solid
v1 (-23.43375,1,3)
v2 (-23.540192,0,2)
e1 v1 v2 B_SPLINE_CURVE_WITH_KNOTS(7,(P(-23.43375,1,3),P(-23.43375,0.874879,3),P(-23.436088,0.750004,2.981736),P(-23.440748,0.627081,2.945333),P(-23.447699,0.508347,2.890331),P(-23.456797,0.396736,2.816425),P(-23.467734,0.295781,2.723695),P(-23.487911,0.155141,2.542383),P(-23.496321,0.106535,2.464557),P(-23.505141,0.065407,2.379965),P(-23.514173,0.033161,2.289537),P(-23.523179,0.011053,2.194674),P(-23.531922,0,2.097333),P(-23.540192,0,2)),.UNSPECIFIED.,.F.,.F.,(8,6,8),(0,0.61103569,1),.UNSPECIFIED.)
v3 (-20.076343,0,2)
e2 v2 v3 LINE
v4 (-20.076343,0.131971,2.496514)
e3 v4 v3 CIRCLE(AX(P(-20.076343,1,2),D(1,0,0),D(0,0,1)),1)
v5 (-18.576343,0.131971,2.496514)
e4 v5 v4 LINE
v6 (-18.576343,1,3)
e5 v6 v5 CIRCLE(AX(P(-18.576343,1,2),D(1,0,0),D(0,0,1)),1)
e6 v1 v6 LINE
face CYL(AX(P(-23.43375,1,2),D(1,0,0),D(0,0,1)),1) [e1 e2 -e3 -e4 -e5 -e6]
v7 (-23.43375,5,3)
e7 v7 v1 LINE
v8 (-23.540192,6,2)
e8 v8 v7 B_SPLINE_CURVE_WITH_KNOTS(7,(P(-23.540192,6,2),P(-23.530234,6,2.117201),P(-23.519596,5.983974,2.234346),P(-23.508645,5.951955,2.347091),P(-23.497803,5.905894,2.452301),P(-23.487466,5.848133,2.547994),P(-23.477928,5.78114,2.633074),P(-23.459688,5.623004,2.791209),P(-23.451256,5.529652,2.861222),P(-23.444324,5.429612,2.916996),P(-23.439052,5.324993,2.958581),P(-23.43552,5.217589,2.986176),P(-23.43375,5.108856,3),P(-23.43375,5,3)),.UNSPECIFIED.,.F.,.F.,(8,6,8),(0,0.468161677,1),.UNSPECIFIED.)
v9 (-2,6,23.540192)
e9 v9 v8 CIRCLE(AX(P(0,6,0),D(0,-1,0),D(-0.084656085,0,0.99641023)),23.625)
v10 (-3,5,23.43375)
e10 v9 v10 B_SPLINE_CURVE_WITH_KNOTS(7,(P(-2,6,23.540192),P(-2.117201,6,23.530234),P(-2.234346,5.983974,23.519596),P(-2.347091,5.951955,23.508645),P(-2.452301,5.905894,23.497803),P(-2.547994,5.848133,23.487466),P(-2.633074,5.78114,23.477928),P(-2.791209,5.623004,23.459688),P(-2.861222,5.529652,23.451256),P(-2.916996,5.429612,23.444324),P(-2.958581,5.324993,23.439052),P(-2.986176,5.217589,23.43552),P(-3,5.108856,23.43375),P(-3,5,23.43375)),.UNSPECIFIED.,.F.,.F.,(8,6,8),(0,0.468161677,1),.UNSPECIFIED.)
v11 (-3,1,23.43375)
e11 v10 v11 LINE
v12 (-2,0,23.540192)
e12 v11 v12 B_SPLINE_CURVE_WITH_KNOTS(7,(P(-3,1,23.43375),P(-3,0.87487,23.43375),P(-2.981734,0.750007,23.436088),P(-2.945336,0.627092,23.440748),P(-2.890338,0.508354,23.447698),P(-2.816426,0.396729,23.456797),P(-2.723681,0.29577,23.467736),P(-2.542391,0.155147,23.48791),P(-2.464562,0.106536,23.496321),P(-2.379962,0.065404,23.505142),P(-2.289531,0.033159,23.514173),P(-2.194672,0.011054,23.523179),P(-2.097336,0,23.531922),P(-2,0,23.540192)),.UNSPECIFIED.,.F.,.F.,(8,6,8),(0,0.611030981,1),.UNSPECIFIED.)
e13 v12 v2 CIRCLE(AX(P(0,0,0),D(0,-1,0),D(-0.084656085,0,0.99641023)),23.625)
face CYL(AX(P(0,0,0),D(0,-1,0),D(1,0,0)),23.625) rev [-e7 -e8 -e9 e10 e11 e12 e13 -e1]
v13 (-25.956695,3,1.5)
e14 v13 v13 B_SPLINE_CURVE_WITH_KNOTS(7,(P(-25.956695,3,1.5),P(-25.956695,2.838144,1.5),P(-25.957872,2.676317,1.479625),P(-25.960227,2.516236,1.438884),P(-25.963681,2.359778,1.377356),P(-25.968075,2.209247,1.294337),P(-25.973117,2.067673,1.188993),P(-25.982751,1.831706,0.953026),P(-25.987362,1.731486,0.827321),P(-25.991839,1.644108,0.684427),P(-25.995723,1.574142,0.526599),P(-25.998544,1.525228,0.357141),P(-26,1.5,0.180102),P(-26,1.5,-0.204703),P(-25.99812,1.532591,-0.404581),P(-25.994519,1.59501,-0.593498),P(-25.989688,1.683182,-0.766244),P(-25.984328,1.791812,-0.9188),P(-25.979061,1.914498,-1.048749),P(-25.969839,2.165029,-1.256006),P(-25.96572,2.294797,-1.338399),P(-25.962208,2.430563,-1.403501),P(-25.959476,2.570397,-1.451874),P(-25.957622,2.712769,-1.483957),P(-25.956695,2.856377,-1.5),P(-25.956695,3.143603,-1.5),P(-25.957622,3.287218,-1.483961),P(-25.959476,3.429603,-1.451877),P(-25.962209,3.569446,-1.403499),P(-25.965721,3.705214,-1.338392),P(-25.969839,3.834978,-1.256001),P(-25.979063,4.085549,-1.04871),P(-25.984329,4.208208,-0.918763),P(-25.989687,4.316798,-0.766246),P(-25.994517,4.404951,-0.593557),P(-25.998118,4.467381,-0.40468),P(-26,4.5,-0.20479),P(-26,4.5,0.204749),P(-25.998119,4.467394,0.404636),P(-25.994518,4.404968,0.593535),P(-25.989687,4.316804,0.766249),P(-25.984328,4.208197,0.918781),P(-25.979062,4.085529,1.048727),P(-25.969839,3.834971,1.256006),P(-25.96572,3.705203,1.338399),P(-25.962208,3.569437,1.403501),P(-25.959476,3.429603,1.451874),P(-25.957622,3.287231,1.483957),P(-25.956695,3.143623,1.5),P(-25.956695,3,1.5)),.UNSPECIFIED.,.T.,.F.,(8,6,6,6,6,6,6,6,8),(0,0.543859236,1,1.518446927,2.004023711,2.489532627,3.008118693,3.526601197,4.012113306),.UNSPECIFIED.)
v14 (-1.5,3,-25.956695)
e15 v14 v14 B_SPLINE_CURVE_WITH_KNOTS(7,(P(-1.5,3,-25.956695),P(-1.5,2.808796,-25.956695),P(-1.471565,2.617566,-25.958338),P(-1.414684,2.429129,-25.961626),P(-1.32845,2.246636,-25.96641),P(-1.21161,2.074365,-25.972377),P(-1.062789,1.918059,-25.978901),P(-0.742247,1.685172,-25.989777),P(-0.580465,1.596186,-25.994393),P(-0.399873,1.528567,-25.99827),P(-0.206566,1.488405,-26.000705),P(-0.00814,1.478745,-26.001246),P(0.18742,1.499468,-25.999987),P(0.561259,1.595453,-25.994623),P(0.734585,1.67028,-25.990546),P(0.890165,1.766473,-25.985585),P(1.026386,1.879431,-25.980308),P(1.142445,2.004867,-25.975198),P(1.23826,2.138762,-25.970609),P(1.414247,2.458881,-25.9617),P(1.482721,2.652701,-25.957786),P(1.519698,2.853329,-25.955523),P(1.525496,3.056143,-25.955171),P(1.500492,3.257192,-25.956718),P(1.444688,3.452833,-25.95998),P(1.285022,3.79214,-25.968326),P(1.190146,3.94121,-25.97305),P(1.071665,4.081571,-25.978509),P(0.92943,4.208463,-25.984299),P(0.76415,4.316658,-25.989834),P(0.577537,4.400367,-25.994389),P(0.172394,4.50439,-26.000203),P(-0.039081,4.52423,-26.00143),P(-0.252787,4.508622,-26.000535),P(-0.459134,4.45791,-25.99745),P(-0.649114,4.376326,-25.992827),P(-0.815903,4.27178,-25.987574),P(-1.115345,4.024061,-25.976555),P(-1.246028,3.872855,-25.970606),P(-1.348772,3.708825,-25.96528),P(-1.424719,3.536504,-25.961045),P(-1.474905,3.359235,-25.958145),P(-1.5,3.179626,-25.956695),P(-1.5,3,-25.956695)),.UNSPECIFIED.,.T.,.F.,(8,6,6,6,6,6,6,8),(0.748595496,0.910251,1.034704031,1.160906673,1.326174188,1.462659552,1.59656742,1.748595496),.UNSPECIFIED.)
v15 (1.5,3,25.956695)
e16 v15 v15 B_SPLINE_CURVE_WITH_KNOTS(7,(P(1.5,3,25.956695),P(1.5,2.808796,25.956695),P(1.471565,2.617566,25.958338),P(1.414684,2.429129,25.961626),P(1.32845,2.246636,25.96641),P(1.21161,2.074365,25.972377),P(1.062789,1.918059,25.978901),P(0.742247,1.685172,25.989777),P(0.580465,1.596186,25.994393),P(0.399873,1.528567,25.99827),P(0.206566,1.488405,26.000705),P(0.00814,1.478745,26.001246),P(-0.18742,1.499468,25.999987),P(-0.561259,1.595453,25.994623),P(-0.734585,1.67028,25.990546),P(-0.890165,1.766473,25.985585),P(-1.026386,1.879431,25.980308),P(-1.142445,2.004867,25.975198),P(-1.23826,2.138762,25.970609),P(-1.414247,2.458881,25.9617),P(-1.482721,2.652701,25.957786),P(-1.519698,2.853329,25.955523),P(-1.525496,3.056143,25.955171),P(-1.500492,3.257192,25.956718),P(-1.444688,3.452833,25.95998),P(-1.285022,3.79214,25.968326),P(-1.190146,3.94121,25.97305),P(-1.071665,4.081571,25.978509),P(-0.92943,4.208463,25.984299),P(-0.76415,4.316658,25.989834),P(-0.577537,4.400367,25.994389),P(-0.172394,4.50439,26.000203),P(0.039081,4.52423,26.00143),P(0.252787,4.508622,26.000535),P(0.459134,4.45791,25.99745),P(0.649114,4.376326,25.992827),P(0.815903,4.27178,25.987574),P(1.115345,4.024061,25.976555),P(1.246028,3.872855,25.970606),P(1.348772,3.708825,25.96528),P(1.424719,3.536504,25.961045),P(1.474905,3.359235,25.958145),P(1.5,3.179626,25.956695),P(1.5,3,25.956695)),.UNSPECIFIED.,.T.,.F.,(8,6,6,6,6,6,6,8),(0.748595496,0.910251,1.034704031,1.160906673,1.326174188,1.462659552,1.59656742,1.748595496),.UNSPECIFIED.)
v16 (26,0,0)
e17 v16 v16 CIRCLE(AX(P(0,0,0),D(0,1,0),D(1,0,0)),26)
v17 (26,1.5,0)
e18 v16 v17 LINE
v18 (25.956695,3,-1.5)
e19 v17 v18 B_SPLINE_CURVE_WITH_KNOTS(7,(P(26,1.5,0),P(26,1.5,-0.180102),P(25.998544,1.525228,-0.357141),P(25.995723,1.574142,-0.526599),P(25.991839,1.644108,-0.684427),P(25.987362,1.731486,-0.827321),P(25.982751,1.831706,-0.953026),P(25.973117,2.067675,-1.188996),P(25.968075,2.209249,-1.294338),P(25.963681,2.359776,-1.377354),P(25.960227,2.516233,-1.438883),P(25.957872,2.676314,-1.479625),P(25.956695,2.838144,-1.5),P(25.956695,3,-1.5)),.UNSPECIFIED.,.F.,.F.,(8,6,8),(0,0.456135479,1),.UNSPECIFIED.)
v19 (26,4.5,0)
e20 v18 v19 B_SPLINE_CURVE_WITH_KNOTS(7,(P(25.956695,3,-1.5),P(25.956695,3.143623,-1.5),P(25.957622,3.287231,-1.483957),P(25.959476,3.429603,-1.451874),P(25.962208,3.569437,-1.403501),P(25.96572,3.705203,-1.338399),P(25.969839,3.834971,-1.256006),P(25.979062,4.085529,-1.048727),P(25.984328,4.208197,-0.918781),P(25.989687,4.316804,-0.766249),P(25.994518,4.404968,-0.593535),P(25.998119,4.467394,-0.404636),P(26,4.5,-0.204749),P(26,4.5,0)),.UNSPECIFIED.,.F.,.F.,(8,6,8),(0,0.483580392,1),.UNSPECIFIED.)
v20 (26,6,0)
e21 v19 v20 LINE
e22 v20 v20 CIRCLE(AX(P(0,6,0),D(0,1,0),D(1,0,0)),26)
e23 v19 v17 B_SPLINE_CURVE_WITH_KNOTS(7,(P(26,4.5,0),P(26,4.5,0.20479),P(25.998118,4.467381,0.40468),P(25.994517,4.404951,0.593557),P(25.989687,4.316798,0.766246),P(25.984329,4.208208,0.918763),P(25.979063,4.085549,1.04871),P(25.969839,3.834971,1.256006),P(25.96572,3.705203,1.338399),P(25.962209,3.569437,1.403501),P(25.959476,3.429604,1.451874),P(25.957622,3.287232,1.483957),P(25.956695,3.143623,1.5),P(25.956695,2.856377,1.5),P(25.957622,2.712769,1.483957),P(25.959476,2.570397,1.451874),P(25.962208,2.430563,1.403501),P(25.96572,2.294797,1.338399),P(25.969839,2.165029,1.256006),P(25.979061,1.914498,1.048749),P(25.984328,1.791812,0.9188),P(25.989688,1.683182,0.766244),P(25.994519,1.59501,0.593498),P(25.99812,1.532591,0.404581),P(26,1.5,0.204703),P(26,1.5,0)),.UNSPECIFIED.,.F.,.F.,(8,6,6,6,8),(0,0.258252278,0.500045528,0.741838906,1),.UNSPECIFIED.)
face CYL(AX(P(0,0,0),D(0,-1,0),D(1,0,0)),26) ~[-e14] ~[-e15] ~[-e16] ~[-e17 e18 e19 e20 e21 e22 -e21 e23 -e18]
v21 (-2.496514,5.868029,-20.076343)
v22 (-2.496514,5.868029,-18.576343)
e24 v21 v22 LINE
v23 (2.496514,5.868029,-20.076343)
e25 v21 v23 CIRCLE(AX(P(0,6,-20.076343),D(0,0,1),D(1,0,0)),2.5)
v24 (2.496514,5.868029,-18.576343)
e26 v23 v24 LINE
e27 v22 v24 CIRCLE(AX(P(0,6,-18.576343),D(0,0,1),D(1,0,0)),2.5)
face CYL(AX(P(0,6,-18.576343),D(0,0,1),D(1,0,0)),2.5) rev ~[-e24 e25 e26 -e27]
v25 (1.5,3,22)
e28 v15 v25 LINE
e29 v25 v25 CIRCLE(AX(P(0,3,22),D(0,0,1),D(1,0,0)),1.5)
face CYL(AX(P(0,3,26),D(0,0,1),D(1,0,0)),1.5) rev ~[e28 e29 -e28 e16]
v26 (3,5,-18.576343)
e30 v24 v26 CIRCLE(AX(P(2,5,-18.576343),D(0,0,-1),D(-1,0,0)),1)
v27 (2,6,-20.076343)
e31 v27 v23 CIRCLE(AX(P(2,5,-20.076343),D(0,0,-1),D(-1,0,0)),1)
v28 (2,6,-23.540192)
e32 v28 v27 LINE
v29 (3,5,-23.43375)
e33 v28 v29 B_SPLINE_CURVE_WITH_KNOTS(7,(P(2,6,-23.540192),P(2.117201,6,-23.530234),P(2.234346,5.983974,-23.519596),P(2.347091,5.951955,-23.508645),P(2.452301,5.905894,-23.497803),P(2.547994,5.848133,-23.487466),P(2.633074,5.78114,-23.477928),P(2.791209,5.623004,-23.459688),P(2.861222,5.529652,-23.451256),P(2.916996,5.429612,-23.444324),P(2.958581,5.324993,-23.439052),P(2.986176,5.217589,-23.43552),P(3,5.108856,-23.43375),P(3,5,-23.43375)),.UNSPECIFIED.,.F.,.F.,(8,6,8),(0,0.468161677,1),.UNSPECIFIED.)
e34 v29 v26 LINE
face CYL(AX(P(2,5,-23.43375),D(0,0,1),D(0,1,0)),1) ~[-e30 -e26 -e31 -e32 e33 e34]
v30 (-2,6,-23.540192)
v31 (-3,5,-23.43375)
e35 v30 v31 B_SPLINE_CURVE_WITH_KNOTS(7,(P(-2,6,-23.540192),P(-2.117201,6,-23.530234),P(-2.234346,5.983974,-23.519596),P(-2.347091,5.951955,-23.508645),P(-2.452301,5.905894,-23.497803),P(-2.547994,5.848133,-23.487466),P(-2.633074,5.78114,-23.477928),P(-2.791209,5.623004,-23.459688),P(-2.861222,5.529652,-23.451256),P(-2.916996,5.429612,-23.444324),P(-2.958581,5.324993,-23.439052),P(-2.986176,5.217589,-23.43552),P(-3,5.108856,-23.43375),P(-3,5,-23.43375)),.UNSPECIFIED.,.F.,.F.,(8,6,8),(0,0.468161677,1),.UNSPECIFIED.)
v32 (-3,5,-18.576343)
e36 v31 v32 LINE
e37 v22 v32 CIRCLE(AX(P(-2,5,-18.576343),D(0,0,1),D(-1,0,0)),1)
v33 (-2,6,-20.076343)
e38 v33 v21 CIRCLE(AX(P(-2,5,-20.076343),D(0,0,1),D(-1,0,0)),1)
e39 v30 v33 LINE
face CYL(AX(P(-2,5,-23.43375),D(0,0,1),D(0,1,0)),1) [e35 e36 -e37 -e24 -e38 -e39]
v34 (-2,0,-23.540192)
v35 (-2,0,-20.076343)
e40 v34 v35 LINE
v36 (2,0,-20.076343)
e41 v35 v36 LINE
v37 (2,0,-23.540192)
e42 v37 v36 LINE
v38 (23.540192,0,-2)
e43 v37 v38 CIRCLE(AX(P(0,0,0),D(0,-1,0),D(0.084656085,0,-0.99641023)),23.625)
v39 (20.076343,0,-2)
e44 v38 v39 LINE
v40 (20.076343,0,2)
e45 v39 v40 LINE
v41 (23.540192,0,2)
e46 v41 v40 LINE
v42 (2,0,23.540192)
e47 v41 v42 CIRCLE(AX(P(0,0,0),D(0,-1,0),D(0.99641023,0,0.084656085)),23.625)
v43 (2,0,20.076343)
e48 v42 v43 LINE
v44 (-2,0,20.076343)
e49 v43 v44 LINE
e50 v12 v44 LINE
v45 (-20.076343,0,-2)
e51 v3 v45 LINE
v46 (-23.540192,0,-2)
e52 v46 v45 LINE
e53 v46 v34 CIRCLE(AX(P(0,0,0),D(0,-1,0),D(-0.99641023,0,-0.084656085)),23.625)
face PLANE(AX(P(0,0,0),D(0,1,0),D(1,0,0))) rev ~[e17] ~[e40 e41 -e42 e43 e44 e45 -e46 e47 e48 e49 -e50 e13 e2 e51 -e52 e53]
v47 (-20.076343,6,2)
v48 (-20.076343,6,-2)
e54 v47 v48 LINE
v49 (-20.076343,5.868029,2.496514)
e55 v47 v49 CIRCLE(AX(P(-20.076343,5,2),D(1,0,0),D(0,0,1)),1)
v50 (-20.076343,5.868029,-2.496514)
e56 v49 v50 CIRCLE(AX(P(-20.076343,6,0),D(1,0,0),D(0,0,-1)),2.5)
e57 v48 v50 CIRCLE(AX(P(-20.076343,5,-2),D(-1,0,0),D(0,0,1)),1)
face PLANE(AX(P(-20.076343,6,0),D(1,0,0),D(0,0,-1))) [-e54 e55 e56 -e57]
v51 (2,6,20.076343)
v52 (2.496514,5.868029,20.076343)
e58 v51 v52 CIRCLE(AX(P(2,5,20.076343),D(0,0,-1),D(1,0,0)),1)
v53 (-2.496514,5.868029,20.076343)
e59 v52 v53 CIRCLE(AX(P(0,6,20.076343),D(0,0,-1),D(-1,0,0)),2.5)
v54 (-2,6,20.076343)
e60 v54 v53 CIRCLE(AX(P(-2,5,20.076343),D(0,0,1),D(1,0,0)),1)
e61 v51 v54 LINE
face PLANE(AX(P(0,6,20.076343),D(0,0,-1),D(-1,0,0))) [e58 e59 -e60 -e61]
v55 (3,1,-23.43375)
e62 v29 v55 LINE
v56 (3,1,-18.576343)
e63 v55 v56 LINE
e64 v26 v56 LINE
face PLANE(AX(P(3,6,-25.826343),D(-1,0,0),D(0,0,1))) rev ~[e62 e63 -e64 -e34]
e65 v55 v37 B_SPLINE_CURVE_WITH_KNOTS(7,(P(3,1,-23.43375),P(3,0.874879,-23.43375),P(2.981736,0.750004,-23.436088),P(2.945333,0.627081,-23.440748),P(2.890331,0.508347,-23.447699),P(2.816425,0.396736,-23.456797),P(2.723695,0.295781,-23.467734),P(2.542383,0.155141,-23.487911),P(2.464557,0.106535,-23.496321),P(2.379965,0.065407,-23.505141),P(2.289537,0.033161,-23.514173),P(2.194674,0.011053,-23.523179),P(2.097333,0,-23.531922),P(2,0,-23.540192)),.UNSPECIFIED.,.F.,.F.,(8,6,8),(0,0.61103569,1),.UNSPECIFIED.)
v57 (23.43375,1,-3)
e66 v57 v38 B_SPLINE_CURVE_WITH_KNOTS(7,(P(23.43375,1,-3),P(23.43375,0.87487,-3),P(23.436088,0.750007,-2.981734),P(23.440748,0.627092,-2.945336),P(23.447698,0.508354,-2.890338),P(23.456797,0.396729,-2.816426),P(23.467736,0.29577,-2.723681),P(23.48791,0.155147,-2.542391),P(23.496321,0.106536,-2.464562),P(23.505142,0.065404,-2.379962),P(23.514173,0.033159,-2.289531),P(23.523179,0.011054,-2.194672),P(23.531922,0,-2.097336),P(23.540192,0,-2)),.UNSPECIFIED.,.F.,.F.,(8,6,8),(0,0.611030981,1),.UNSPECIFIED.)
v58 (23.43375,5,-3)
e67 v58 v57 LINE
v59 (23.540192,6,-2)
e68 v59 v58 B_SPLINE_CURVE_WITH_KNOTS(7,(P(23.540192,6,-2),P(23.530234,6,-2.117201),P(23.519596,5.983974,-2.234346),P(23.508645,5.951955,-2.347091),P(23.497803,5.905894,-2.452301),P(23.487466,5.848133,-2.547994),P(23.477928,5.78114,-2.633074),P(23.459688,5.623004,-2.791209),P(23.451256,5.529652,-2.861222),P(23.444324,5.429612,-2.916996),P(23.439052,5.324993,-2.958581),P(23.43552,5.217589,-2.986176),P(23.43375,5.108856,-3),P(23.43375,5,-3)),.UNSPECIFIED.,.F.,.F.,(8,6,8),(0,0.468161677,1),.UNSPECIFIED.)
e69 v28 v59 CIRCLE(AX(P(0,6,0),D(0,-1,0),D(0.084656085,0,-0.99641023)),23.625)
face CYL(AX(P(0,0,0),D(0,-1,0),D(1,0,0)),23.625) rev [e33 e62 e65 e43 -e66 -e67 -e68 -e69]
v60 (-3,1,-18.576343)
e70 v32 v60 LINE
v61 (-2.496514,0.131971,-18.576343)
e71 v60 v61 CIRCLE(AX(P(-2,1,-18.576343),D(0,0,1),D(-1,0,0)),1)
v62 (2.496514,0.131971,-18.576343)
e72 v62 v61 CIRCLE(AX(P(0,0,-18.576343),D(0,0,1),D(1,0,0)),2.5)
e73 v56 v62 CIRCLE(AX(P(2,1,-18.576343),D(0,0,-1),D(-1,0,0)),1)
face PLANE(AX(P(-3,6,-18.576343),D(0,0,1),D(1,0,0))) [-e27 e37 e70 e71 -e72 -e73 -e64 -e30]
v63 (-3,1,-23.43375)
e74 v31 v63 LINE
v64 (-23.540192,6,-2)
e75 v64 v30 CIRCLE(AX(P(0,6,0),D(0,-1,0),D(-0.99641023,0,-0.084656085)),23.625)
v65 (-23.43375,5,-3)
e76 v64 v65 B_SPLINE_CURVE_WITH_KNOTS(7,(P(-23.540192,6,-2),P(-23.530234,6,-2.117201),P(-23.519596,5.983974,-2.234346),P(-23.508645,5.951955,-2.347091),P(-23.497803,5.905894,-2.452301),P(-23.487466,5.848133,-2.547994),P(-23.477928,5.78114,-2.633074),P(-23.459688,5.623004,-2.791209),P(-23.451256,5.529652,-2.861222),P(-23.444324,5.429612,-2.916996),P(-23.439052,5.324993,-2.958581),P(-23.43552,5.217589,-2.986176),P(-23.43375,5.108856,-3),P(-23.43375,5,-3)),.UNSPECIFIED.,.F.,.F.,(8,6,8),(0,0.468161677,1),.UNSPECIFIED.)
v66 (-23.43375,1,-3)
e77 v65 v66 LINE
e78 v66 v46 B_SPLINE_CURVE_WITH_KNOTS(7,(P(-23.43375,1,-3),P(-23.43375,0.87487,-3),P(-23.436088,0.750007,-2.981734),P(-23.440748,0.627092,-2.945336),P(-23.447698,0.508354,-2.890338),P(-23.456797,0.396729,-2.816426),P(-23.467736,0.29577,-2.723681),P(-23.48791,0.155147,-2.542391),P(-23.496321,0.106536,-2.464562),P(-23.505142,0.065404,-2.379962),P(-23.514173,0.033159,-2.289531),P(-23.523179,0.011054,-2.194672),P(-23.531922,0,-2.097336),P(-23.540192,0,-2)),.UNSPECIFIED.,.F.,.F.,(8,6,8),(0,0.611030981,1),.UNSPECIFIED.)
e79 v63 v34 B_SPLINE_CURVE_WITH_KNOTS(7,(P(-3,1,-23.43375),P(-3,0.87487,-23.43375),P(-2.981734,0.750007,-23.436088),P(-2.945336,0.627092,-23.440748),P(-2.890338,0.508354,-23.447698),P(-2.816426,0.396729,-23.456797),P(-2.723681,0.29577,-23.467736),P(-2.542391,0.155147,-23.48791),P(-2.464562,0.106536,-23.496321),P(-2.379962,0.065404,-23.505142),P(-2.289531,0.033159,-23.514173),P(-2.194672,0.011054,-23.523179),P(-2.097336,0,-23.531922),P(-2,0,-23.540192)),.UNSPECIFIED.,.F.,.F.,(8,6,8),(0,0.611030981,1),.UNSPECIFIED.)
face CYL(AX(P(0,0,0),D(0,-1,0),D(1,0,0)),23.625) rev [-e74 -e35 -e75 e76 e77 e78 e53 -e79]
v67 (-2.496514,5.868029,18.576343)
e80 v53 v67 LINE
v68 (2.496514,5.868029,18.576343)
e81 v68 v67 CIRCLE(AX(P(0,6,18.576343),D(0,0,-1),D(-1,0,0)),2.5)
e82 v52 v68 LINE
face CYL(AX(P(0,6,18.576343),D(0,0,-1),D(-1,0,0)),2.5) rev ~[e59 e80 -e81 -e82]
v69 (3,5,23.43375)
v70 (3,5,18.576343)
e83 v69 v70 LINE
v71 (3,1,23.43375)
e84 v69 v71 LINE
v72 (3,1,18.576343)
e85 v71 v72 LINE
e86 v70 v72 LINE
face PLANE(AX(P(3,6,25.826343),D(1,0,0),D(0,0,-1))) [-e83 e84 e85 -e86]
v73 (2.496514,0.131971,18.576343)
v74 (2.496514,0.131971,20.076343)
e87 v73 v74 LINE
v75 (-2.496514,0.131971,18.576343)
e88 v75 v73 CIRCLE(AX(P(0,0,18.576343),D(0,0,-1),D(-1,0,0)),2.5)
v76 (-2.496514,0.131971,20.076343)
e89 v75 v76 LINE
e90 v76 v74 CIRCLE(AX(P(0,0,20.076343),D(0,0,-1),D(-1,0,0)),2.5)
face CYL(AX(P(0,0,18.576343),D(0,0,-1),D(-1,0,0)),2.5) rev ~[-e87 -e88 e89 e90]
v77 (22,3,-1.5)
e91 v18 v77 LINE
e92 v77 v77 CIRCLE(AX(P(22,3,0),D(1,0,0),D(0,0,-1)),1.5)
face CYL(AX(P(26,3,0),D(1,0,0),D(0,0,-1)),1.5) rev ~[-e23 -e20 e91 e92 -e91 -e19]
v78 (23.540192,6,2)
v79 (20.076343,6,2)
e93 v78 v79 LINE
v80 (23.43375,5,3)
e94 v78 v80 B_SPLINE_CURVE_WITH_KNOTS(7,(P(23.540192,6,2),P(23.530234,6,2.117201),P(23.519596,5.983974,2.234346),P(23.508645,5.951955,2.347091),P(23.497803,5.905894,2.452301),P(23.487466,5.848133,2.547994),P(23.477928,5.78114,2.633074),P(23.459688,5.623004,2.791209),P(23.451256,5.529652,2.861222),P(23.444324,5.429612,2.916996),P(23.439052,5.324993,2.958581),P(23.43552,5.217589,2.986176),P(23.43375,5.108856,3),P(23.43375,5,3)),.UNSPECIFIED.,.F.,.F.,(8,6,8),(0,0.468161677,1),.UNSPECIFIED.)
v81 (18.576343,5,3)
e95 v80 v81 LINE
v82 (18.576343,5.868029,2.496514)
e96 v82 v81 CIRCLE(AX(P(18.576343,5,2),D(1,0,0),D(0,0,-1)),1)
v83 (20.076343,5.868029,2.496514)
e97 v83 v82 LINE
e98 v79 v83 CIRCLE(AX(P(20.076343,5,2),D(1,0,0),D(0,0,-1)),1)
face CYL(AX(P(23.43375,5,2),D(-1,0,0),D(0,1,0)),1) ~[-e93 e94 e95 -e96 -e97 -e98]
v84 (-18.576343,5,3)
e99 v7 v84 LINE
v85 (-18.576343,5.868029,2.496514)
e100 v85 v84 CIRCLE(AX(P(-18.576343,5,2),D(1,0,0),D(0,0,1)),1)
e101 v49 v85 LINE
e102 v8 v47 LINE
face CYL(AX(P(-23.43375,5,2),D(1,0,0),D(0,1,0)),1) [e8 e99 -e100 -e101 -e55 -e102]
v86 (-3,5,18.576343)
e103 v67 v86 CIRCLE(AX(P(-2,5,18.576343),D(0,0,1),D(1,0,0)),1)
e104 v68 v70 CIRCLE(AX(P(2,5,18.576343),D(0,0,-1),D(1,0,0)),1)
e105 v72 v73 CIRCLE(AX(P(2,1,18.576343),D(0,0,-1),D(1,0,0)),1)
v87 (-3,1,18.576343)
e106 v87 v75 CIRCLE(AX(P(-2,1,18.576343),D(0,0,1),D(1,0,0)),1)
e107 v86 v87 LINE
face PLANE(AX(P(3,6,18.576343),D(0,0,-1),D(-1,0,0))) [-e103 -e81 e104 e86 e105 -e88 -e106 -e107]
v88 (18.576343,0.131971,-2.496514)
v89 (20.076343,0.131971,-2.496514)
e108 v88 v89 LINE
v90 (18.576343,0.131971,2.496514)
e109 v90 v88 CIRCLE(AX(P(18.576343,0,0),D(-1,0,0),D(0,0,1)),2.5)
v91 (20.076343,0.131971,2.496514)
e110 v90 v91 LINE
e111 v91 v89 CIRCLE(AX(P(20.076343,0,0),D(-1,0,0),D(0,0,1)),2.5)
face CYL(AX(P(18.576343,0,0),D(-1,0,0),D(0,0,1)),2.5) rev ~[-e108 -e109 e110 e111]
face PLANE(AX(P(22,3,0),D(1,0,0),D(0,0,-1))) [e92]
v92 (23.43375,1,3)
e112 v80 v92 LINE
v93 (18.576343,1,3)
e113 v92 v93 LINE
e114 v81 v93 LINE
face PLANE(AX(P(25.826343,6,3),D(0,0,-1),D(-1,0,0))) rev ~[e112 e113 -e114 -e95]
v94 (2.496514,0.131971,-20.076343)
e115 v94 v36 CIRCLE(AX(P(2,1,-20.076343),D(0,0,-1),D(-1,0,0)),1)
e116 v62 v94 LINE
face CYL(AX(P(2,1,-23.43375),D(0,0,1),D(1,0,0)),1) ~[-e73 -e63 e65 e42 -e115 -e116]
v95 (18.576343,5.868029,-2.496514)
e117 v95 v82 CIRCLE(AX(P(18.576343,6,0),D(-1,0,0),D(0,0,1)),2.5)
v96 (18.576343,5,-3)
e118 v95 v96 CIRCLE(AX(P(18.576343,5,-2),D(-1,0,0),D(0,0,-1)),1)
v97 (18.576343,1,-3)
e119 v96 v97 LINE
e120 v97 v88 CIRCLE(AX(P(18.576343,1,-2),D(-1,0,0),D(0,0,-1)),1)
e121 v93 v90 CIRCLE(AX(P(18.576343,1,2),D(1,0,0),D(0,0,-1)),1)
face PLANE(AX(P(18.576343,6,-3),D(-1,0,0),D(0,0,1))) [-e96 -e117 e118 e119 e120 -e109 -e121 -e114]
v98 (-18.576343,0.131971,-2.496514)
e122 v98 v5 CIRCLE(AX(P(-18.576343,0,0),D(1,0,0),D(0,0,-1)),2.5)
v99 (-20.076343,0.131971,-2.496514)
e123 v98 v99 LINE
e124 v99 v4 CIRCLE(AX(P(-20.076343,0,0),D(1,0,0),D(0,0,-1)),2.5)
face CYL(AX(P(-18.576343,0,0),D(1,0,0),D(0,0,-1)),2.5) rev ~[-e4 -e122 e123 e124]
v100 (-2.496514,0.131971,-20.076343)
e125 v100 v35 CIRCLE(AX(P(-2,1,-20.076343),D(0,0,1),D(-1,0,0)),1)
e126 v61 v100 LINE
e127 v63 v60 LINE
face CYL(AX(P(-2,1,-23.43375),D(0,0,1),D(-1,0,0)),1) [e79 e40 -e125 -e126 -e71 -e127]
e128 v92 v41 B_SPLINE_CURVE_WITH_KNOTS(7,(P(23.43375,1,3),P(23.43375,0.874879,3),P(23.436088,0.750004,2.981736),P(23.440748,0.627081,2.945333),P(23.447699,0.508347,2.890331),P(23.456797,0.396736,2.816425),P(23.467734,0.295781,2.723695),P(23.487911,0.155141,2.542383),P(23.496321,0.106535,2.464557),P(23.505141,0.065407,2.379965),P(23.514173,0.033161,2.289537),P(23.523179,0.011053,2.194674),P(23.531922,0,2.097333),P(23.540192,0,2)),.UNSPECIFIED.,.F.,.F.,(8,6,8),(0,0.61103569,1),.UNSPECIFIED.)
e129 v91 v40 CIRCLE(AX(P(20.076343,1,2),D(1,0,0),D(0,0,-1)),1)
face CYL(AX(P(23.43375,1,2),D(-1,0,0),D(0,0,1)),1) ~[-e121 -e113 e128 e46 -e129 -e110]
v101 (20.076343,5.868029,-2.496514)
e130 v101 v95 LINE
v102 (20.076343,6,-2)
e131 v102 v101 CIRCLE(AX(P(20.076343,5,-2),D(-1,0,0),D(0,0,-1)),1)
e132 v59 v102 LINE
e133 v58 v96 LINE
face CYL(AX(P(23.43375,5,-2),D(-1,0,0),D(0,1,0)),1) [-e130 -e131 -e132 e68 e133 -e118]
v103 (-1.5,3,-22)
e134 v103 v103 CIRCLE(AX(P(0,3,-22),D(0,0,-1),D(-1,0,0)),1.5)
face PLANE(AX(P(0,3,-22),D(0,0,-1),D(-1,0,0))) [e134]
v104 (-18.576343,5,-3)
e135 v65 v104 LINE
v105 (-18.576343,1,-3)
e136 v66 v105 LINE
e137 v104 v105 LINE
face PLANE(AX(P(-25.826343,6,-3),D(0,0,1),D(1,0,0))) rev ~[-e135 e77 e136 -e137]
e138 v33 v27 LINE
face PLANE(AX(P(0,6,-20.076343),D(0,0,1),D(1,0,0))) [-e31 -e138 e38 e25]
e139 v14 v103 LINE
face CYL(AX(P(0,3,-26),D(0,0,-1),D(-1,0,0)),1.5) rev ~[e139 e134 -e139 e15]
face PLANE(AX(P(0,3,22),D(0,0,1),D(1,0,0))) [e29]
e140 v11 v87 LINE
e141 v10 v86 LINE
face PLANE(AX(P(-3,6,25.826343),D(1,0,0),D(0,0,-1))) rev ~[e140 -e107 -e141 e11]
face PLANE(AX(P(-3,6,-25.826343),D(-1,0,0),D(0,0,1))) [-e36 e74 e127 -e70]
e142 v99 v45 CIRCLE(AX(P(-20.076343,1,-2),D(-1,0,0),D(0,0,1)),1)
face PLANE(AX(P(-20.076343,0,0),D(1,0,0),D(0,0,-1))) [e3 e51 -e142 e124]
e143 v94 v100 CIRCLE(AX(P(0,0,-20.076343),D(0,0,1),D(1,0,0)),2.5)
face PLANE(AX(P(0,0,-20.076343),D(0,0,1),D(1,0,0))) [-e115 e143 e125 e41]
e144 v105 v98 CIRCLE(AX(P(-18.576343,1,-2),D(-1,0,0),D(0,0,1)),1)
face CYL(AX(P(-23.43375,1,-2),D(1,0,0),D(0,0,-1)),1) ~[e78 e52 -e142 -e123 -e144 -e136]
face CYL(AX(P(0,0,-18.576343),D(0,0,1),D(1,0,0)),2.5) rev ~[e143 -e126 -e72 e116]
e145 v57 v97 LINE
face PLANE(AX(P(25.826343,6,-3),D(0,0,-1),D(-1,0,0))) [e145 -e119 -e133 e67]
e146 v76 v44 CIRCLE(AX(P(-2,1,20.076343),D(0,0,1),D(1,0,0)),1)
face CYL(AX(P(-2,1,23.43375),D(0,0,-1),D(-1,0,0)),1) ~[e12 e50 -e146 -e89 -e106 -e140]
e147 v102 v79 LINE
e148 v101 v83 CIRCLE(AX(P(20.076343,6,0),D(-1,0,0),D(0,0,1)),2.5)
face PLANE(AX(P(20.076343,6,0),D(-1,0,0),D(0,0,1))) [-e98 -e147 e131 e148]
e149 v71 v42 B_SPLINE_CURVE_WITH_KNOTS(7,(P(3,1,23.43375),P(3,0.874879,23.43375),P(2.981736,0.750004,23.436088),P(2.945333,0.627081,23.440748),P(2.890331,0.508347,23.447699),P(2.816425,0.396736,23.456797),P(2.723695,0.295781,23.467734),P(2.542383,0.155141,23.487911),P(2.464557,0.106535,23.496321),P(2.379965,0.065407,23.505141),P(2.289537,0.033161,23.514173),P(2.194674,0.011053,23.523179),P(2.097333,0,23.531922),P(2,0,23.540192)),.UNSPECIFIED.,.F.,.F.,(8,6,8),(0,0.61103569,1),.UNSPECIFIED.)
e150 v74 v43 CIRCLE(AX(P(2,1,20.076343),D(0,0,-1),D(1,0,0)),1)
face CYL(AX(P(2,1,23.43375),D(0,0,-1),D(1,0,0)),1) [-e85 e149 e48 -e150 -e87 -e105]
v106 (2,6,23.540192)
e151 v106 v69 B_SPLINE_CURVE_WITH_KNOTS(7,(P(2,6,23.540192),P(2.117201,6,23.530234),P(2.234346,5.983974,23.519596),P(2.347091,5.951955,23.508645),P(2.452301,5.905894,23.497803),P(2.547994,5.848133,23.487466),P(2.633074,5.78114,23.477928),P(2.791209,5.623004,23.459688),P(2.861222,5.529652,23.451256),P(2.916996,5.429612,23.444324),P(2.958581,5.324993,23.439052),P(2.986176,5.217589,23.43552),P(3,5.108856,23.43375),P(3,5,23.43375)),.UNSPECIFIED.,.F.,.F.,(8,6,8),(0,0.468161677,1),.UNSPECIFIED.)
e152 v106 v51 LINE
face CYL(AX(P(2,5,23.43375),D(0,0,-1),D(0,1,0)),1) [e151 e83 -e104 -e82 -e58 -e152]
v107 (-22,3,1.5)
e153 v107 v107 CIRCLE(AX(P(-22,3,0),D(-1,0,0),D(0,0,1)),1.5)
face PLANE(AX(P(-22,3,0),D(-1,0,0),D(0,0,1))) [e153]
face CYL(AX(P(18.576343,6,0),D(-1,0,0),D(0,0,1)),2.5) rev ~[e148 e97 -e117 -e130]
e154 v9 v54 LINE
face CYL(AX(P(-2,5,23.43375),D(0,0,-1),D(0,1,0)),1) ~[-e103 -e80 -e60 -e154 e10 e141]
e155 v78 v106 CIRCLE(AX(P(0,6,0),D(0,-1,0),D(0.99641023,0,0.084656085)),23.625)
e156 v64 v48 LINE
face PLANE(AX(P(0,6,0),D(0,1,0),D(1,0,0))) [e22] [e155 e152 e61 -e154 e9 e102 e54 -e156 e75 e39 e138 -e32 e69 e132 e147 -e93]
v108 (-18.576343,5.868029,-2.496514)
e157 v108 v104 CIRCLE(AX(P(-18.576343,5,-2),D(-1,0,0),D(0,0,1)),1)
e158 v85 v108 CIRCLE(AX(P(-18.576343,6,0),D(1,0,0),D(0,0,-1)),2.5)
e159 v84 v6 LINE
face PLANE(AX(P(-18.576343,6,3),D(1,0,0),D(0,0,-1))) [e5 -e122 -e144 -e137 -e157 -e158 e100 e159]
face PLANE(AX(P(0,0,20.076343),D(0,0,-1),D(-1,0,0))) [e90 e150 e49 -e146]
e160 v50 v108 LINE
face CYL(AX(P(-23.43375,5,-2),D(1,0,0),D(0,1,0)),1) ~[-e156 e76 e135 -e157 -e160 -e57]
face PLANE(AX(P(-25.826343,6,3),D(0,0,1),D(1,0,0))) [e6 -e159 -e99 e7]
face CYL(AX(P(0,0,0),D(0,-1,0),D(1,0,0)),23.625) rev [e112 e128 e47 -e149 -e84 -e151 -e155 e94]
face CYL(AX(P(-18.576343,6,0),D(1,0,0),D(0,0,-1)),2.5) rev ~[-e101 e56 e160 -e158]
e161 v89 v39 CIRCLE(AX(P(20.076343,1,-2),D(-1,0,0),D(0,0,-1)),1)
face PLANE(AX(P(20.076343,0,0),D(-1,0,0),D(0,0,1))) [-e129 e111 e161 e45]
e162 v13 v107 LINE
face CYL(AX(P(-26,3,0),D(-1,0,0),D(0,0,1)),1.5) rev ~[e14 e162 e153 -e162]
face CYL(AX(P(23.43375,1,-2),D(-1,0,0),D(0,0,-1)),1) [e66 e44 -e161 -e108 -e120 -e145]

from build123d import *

# Parameters (mm, degrees)
SKETCH1_R           = 26
SKETCH1_R_2         = 23.625
BOSS_EXTRUDE1_DEPTH = 6
SKETCH2_W           = 7.25
SKETCH2_H           = 6
BOSS_EXTRUDE2_DEPTH = 6
CIRPATTERN1_COUNT   = 4
SKETCH3_R           = 2.5
CUT_EXTRUDE1_DEPTH  = 1.5
CIRPATTERN2_COUNT   = 4
FILLET1_R           = 1
SKETCH4_R           = 1.5
CUT_EXTRUDE2_DEPTH  = 4
CIRPATTERN4_COUNT   = 4


with BuildPart() as part:
    # Sketch1 → Boss-Extrude1 (new body)
    with BuildSketch(Plane(origin=(0, 0, 0), x_dir=(1, 0, 0), z_dir=(0, 1, 0))):
        Circle(SKETCH1_R)
        Circle(SKETCH1_R_2, mode=Mode.SUBTRACT)
    extrude(amount=BOSS_EXTRUDE1_DEPTH)

    # Sketch2 → Boss-Extrude2 (add)
    with BuildSketch(Plane(origin=(0, 6, 0), x_dir=(1, 0, 0), z_dir=(0, 1, 0))):
        with Locations((-22.20134314, 0)):
            Rectangle(SKETCH2_W, SKETCH2_H)
    boss_extrude2 = extrude(amount=-BOSS_EXTRUDE2_DEPTH)

    # CirPattern1: Boss-Extrude2 ×4 about axis
    cirpattern1_axis = Axis((0, 0, 0), (0, 1, 0))
    for i in range(1, CIRPATTERN1_COUNT):
        add(boss_extrude2.rotate(cirpattern1_axis, i * 360 / CIRPATTERN1_COUNT))

    # Sketch3 → Cut-Extrude1 (cut)
    with BuildSketch(Plane(origin=(-18.57634314, 0, 0), x_dir=(0, 0, -1), z_dir=(1, 0, 0))):
        with Locations((0, 6)):
            Circle(SKETCH3_R)
        Circle(SKETCH3_R)
    cut_extrude1 = extrude(amount=-CUT_EXTRUDE1_DEPTH, mode=Mode.SUBTRACT)

    # CirPattern2: Cut-Extrude1 ×4 about axis
    cirpattern2_axis = Axis((0, 0, 0), (0, 1, 0))
    for i in range(1, CIRPATTERN2_COUNT):
        add(cut_extrude1.rotate(cirpattern2_axis, i * 360 / CIRPATTERN2_COUNT), mode=Mode.SUBTRACT)

    # Fillet1
    fillet1_edges = [part.edges().sort_by_distance(p)[0] for p in [
        (-21.00504642, 6, 3),
        (-21.00504642, 6, -3),
        (-21.00504642, 0, -3),
        (-21.00504642, 0, 3),
        (3, 6, 21.00504642),
        (-3, 6, 21.00504642),
        (-3, 0, 21.00504642),
        (3, 0, 21.00504642),
        (21.00504642, 6, -3),
        (21.00504642, 6, 3),
        (21.00504642, 0, 3),
        (21.00504642, 0, -3),
        (-3, 6, -21.00504642),
        (3, 6, -21.00504642),
        (3, 0, -21.00504642),
        (-3, 0, -21.00504642),
    ]]
    fillet(fillet1_edges, radius=FILLET1_R)

    # Sketch4 → Cut-Extrude2 (cut)
    with BuildSketch(Plane.XY.offset(26)):
        with Locations((0, 3)):
            Circle(SKETCH4_R)
    cut_extrude2 = extrude(amount=-CUT_EXTRUDE2_DEPTH, mode=Mode.SUBTRACT)

    # CirPattern4: Cut-Extrude2 ×4 about axis
    cirpattern4_axis = Axis((0, 0, 0), (0, 1, 0))
    for i in range(1, CIRPATTERN4_COUNT):
        add(cut_extrude2.rotate(cirpattern4_axis, i * 360 / CIRPATTERN4_COUNT), mode=Mode.SUBTRACT)


solid = part.part
